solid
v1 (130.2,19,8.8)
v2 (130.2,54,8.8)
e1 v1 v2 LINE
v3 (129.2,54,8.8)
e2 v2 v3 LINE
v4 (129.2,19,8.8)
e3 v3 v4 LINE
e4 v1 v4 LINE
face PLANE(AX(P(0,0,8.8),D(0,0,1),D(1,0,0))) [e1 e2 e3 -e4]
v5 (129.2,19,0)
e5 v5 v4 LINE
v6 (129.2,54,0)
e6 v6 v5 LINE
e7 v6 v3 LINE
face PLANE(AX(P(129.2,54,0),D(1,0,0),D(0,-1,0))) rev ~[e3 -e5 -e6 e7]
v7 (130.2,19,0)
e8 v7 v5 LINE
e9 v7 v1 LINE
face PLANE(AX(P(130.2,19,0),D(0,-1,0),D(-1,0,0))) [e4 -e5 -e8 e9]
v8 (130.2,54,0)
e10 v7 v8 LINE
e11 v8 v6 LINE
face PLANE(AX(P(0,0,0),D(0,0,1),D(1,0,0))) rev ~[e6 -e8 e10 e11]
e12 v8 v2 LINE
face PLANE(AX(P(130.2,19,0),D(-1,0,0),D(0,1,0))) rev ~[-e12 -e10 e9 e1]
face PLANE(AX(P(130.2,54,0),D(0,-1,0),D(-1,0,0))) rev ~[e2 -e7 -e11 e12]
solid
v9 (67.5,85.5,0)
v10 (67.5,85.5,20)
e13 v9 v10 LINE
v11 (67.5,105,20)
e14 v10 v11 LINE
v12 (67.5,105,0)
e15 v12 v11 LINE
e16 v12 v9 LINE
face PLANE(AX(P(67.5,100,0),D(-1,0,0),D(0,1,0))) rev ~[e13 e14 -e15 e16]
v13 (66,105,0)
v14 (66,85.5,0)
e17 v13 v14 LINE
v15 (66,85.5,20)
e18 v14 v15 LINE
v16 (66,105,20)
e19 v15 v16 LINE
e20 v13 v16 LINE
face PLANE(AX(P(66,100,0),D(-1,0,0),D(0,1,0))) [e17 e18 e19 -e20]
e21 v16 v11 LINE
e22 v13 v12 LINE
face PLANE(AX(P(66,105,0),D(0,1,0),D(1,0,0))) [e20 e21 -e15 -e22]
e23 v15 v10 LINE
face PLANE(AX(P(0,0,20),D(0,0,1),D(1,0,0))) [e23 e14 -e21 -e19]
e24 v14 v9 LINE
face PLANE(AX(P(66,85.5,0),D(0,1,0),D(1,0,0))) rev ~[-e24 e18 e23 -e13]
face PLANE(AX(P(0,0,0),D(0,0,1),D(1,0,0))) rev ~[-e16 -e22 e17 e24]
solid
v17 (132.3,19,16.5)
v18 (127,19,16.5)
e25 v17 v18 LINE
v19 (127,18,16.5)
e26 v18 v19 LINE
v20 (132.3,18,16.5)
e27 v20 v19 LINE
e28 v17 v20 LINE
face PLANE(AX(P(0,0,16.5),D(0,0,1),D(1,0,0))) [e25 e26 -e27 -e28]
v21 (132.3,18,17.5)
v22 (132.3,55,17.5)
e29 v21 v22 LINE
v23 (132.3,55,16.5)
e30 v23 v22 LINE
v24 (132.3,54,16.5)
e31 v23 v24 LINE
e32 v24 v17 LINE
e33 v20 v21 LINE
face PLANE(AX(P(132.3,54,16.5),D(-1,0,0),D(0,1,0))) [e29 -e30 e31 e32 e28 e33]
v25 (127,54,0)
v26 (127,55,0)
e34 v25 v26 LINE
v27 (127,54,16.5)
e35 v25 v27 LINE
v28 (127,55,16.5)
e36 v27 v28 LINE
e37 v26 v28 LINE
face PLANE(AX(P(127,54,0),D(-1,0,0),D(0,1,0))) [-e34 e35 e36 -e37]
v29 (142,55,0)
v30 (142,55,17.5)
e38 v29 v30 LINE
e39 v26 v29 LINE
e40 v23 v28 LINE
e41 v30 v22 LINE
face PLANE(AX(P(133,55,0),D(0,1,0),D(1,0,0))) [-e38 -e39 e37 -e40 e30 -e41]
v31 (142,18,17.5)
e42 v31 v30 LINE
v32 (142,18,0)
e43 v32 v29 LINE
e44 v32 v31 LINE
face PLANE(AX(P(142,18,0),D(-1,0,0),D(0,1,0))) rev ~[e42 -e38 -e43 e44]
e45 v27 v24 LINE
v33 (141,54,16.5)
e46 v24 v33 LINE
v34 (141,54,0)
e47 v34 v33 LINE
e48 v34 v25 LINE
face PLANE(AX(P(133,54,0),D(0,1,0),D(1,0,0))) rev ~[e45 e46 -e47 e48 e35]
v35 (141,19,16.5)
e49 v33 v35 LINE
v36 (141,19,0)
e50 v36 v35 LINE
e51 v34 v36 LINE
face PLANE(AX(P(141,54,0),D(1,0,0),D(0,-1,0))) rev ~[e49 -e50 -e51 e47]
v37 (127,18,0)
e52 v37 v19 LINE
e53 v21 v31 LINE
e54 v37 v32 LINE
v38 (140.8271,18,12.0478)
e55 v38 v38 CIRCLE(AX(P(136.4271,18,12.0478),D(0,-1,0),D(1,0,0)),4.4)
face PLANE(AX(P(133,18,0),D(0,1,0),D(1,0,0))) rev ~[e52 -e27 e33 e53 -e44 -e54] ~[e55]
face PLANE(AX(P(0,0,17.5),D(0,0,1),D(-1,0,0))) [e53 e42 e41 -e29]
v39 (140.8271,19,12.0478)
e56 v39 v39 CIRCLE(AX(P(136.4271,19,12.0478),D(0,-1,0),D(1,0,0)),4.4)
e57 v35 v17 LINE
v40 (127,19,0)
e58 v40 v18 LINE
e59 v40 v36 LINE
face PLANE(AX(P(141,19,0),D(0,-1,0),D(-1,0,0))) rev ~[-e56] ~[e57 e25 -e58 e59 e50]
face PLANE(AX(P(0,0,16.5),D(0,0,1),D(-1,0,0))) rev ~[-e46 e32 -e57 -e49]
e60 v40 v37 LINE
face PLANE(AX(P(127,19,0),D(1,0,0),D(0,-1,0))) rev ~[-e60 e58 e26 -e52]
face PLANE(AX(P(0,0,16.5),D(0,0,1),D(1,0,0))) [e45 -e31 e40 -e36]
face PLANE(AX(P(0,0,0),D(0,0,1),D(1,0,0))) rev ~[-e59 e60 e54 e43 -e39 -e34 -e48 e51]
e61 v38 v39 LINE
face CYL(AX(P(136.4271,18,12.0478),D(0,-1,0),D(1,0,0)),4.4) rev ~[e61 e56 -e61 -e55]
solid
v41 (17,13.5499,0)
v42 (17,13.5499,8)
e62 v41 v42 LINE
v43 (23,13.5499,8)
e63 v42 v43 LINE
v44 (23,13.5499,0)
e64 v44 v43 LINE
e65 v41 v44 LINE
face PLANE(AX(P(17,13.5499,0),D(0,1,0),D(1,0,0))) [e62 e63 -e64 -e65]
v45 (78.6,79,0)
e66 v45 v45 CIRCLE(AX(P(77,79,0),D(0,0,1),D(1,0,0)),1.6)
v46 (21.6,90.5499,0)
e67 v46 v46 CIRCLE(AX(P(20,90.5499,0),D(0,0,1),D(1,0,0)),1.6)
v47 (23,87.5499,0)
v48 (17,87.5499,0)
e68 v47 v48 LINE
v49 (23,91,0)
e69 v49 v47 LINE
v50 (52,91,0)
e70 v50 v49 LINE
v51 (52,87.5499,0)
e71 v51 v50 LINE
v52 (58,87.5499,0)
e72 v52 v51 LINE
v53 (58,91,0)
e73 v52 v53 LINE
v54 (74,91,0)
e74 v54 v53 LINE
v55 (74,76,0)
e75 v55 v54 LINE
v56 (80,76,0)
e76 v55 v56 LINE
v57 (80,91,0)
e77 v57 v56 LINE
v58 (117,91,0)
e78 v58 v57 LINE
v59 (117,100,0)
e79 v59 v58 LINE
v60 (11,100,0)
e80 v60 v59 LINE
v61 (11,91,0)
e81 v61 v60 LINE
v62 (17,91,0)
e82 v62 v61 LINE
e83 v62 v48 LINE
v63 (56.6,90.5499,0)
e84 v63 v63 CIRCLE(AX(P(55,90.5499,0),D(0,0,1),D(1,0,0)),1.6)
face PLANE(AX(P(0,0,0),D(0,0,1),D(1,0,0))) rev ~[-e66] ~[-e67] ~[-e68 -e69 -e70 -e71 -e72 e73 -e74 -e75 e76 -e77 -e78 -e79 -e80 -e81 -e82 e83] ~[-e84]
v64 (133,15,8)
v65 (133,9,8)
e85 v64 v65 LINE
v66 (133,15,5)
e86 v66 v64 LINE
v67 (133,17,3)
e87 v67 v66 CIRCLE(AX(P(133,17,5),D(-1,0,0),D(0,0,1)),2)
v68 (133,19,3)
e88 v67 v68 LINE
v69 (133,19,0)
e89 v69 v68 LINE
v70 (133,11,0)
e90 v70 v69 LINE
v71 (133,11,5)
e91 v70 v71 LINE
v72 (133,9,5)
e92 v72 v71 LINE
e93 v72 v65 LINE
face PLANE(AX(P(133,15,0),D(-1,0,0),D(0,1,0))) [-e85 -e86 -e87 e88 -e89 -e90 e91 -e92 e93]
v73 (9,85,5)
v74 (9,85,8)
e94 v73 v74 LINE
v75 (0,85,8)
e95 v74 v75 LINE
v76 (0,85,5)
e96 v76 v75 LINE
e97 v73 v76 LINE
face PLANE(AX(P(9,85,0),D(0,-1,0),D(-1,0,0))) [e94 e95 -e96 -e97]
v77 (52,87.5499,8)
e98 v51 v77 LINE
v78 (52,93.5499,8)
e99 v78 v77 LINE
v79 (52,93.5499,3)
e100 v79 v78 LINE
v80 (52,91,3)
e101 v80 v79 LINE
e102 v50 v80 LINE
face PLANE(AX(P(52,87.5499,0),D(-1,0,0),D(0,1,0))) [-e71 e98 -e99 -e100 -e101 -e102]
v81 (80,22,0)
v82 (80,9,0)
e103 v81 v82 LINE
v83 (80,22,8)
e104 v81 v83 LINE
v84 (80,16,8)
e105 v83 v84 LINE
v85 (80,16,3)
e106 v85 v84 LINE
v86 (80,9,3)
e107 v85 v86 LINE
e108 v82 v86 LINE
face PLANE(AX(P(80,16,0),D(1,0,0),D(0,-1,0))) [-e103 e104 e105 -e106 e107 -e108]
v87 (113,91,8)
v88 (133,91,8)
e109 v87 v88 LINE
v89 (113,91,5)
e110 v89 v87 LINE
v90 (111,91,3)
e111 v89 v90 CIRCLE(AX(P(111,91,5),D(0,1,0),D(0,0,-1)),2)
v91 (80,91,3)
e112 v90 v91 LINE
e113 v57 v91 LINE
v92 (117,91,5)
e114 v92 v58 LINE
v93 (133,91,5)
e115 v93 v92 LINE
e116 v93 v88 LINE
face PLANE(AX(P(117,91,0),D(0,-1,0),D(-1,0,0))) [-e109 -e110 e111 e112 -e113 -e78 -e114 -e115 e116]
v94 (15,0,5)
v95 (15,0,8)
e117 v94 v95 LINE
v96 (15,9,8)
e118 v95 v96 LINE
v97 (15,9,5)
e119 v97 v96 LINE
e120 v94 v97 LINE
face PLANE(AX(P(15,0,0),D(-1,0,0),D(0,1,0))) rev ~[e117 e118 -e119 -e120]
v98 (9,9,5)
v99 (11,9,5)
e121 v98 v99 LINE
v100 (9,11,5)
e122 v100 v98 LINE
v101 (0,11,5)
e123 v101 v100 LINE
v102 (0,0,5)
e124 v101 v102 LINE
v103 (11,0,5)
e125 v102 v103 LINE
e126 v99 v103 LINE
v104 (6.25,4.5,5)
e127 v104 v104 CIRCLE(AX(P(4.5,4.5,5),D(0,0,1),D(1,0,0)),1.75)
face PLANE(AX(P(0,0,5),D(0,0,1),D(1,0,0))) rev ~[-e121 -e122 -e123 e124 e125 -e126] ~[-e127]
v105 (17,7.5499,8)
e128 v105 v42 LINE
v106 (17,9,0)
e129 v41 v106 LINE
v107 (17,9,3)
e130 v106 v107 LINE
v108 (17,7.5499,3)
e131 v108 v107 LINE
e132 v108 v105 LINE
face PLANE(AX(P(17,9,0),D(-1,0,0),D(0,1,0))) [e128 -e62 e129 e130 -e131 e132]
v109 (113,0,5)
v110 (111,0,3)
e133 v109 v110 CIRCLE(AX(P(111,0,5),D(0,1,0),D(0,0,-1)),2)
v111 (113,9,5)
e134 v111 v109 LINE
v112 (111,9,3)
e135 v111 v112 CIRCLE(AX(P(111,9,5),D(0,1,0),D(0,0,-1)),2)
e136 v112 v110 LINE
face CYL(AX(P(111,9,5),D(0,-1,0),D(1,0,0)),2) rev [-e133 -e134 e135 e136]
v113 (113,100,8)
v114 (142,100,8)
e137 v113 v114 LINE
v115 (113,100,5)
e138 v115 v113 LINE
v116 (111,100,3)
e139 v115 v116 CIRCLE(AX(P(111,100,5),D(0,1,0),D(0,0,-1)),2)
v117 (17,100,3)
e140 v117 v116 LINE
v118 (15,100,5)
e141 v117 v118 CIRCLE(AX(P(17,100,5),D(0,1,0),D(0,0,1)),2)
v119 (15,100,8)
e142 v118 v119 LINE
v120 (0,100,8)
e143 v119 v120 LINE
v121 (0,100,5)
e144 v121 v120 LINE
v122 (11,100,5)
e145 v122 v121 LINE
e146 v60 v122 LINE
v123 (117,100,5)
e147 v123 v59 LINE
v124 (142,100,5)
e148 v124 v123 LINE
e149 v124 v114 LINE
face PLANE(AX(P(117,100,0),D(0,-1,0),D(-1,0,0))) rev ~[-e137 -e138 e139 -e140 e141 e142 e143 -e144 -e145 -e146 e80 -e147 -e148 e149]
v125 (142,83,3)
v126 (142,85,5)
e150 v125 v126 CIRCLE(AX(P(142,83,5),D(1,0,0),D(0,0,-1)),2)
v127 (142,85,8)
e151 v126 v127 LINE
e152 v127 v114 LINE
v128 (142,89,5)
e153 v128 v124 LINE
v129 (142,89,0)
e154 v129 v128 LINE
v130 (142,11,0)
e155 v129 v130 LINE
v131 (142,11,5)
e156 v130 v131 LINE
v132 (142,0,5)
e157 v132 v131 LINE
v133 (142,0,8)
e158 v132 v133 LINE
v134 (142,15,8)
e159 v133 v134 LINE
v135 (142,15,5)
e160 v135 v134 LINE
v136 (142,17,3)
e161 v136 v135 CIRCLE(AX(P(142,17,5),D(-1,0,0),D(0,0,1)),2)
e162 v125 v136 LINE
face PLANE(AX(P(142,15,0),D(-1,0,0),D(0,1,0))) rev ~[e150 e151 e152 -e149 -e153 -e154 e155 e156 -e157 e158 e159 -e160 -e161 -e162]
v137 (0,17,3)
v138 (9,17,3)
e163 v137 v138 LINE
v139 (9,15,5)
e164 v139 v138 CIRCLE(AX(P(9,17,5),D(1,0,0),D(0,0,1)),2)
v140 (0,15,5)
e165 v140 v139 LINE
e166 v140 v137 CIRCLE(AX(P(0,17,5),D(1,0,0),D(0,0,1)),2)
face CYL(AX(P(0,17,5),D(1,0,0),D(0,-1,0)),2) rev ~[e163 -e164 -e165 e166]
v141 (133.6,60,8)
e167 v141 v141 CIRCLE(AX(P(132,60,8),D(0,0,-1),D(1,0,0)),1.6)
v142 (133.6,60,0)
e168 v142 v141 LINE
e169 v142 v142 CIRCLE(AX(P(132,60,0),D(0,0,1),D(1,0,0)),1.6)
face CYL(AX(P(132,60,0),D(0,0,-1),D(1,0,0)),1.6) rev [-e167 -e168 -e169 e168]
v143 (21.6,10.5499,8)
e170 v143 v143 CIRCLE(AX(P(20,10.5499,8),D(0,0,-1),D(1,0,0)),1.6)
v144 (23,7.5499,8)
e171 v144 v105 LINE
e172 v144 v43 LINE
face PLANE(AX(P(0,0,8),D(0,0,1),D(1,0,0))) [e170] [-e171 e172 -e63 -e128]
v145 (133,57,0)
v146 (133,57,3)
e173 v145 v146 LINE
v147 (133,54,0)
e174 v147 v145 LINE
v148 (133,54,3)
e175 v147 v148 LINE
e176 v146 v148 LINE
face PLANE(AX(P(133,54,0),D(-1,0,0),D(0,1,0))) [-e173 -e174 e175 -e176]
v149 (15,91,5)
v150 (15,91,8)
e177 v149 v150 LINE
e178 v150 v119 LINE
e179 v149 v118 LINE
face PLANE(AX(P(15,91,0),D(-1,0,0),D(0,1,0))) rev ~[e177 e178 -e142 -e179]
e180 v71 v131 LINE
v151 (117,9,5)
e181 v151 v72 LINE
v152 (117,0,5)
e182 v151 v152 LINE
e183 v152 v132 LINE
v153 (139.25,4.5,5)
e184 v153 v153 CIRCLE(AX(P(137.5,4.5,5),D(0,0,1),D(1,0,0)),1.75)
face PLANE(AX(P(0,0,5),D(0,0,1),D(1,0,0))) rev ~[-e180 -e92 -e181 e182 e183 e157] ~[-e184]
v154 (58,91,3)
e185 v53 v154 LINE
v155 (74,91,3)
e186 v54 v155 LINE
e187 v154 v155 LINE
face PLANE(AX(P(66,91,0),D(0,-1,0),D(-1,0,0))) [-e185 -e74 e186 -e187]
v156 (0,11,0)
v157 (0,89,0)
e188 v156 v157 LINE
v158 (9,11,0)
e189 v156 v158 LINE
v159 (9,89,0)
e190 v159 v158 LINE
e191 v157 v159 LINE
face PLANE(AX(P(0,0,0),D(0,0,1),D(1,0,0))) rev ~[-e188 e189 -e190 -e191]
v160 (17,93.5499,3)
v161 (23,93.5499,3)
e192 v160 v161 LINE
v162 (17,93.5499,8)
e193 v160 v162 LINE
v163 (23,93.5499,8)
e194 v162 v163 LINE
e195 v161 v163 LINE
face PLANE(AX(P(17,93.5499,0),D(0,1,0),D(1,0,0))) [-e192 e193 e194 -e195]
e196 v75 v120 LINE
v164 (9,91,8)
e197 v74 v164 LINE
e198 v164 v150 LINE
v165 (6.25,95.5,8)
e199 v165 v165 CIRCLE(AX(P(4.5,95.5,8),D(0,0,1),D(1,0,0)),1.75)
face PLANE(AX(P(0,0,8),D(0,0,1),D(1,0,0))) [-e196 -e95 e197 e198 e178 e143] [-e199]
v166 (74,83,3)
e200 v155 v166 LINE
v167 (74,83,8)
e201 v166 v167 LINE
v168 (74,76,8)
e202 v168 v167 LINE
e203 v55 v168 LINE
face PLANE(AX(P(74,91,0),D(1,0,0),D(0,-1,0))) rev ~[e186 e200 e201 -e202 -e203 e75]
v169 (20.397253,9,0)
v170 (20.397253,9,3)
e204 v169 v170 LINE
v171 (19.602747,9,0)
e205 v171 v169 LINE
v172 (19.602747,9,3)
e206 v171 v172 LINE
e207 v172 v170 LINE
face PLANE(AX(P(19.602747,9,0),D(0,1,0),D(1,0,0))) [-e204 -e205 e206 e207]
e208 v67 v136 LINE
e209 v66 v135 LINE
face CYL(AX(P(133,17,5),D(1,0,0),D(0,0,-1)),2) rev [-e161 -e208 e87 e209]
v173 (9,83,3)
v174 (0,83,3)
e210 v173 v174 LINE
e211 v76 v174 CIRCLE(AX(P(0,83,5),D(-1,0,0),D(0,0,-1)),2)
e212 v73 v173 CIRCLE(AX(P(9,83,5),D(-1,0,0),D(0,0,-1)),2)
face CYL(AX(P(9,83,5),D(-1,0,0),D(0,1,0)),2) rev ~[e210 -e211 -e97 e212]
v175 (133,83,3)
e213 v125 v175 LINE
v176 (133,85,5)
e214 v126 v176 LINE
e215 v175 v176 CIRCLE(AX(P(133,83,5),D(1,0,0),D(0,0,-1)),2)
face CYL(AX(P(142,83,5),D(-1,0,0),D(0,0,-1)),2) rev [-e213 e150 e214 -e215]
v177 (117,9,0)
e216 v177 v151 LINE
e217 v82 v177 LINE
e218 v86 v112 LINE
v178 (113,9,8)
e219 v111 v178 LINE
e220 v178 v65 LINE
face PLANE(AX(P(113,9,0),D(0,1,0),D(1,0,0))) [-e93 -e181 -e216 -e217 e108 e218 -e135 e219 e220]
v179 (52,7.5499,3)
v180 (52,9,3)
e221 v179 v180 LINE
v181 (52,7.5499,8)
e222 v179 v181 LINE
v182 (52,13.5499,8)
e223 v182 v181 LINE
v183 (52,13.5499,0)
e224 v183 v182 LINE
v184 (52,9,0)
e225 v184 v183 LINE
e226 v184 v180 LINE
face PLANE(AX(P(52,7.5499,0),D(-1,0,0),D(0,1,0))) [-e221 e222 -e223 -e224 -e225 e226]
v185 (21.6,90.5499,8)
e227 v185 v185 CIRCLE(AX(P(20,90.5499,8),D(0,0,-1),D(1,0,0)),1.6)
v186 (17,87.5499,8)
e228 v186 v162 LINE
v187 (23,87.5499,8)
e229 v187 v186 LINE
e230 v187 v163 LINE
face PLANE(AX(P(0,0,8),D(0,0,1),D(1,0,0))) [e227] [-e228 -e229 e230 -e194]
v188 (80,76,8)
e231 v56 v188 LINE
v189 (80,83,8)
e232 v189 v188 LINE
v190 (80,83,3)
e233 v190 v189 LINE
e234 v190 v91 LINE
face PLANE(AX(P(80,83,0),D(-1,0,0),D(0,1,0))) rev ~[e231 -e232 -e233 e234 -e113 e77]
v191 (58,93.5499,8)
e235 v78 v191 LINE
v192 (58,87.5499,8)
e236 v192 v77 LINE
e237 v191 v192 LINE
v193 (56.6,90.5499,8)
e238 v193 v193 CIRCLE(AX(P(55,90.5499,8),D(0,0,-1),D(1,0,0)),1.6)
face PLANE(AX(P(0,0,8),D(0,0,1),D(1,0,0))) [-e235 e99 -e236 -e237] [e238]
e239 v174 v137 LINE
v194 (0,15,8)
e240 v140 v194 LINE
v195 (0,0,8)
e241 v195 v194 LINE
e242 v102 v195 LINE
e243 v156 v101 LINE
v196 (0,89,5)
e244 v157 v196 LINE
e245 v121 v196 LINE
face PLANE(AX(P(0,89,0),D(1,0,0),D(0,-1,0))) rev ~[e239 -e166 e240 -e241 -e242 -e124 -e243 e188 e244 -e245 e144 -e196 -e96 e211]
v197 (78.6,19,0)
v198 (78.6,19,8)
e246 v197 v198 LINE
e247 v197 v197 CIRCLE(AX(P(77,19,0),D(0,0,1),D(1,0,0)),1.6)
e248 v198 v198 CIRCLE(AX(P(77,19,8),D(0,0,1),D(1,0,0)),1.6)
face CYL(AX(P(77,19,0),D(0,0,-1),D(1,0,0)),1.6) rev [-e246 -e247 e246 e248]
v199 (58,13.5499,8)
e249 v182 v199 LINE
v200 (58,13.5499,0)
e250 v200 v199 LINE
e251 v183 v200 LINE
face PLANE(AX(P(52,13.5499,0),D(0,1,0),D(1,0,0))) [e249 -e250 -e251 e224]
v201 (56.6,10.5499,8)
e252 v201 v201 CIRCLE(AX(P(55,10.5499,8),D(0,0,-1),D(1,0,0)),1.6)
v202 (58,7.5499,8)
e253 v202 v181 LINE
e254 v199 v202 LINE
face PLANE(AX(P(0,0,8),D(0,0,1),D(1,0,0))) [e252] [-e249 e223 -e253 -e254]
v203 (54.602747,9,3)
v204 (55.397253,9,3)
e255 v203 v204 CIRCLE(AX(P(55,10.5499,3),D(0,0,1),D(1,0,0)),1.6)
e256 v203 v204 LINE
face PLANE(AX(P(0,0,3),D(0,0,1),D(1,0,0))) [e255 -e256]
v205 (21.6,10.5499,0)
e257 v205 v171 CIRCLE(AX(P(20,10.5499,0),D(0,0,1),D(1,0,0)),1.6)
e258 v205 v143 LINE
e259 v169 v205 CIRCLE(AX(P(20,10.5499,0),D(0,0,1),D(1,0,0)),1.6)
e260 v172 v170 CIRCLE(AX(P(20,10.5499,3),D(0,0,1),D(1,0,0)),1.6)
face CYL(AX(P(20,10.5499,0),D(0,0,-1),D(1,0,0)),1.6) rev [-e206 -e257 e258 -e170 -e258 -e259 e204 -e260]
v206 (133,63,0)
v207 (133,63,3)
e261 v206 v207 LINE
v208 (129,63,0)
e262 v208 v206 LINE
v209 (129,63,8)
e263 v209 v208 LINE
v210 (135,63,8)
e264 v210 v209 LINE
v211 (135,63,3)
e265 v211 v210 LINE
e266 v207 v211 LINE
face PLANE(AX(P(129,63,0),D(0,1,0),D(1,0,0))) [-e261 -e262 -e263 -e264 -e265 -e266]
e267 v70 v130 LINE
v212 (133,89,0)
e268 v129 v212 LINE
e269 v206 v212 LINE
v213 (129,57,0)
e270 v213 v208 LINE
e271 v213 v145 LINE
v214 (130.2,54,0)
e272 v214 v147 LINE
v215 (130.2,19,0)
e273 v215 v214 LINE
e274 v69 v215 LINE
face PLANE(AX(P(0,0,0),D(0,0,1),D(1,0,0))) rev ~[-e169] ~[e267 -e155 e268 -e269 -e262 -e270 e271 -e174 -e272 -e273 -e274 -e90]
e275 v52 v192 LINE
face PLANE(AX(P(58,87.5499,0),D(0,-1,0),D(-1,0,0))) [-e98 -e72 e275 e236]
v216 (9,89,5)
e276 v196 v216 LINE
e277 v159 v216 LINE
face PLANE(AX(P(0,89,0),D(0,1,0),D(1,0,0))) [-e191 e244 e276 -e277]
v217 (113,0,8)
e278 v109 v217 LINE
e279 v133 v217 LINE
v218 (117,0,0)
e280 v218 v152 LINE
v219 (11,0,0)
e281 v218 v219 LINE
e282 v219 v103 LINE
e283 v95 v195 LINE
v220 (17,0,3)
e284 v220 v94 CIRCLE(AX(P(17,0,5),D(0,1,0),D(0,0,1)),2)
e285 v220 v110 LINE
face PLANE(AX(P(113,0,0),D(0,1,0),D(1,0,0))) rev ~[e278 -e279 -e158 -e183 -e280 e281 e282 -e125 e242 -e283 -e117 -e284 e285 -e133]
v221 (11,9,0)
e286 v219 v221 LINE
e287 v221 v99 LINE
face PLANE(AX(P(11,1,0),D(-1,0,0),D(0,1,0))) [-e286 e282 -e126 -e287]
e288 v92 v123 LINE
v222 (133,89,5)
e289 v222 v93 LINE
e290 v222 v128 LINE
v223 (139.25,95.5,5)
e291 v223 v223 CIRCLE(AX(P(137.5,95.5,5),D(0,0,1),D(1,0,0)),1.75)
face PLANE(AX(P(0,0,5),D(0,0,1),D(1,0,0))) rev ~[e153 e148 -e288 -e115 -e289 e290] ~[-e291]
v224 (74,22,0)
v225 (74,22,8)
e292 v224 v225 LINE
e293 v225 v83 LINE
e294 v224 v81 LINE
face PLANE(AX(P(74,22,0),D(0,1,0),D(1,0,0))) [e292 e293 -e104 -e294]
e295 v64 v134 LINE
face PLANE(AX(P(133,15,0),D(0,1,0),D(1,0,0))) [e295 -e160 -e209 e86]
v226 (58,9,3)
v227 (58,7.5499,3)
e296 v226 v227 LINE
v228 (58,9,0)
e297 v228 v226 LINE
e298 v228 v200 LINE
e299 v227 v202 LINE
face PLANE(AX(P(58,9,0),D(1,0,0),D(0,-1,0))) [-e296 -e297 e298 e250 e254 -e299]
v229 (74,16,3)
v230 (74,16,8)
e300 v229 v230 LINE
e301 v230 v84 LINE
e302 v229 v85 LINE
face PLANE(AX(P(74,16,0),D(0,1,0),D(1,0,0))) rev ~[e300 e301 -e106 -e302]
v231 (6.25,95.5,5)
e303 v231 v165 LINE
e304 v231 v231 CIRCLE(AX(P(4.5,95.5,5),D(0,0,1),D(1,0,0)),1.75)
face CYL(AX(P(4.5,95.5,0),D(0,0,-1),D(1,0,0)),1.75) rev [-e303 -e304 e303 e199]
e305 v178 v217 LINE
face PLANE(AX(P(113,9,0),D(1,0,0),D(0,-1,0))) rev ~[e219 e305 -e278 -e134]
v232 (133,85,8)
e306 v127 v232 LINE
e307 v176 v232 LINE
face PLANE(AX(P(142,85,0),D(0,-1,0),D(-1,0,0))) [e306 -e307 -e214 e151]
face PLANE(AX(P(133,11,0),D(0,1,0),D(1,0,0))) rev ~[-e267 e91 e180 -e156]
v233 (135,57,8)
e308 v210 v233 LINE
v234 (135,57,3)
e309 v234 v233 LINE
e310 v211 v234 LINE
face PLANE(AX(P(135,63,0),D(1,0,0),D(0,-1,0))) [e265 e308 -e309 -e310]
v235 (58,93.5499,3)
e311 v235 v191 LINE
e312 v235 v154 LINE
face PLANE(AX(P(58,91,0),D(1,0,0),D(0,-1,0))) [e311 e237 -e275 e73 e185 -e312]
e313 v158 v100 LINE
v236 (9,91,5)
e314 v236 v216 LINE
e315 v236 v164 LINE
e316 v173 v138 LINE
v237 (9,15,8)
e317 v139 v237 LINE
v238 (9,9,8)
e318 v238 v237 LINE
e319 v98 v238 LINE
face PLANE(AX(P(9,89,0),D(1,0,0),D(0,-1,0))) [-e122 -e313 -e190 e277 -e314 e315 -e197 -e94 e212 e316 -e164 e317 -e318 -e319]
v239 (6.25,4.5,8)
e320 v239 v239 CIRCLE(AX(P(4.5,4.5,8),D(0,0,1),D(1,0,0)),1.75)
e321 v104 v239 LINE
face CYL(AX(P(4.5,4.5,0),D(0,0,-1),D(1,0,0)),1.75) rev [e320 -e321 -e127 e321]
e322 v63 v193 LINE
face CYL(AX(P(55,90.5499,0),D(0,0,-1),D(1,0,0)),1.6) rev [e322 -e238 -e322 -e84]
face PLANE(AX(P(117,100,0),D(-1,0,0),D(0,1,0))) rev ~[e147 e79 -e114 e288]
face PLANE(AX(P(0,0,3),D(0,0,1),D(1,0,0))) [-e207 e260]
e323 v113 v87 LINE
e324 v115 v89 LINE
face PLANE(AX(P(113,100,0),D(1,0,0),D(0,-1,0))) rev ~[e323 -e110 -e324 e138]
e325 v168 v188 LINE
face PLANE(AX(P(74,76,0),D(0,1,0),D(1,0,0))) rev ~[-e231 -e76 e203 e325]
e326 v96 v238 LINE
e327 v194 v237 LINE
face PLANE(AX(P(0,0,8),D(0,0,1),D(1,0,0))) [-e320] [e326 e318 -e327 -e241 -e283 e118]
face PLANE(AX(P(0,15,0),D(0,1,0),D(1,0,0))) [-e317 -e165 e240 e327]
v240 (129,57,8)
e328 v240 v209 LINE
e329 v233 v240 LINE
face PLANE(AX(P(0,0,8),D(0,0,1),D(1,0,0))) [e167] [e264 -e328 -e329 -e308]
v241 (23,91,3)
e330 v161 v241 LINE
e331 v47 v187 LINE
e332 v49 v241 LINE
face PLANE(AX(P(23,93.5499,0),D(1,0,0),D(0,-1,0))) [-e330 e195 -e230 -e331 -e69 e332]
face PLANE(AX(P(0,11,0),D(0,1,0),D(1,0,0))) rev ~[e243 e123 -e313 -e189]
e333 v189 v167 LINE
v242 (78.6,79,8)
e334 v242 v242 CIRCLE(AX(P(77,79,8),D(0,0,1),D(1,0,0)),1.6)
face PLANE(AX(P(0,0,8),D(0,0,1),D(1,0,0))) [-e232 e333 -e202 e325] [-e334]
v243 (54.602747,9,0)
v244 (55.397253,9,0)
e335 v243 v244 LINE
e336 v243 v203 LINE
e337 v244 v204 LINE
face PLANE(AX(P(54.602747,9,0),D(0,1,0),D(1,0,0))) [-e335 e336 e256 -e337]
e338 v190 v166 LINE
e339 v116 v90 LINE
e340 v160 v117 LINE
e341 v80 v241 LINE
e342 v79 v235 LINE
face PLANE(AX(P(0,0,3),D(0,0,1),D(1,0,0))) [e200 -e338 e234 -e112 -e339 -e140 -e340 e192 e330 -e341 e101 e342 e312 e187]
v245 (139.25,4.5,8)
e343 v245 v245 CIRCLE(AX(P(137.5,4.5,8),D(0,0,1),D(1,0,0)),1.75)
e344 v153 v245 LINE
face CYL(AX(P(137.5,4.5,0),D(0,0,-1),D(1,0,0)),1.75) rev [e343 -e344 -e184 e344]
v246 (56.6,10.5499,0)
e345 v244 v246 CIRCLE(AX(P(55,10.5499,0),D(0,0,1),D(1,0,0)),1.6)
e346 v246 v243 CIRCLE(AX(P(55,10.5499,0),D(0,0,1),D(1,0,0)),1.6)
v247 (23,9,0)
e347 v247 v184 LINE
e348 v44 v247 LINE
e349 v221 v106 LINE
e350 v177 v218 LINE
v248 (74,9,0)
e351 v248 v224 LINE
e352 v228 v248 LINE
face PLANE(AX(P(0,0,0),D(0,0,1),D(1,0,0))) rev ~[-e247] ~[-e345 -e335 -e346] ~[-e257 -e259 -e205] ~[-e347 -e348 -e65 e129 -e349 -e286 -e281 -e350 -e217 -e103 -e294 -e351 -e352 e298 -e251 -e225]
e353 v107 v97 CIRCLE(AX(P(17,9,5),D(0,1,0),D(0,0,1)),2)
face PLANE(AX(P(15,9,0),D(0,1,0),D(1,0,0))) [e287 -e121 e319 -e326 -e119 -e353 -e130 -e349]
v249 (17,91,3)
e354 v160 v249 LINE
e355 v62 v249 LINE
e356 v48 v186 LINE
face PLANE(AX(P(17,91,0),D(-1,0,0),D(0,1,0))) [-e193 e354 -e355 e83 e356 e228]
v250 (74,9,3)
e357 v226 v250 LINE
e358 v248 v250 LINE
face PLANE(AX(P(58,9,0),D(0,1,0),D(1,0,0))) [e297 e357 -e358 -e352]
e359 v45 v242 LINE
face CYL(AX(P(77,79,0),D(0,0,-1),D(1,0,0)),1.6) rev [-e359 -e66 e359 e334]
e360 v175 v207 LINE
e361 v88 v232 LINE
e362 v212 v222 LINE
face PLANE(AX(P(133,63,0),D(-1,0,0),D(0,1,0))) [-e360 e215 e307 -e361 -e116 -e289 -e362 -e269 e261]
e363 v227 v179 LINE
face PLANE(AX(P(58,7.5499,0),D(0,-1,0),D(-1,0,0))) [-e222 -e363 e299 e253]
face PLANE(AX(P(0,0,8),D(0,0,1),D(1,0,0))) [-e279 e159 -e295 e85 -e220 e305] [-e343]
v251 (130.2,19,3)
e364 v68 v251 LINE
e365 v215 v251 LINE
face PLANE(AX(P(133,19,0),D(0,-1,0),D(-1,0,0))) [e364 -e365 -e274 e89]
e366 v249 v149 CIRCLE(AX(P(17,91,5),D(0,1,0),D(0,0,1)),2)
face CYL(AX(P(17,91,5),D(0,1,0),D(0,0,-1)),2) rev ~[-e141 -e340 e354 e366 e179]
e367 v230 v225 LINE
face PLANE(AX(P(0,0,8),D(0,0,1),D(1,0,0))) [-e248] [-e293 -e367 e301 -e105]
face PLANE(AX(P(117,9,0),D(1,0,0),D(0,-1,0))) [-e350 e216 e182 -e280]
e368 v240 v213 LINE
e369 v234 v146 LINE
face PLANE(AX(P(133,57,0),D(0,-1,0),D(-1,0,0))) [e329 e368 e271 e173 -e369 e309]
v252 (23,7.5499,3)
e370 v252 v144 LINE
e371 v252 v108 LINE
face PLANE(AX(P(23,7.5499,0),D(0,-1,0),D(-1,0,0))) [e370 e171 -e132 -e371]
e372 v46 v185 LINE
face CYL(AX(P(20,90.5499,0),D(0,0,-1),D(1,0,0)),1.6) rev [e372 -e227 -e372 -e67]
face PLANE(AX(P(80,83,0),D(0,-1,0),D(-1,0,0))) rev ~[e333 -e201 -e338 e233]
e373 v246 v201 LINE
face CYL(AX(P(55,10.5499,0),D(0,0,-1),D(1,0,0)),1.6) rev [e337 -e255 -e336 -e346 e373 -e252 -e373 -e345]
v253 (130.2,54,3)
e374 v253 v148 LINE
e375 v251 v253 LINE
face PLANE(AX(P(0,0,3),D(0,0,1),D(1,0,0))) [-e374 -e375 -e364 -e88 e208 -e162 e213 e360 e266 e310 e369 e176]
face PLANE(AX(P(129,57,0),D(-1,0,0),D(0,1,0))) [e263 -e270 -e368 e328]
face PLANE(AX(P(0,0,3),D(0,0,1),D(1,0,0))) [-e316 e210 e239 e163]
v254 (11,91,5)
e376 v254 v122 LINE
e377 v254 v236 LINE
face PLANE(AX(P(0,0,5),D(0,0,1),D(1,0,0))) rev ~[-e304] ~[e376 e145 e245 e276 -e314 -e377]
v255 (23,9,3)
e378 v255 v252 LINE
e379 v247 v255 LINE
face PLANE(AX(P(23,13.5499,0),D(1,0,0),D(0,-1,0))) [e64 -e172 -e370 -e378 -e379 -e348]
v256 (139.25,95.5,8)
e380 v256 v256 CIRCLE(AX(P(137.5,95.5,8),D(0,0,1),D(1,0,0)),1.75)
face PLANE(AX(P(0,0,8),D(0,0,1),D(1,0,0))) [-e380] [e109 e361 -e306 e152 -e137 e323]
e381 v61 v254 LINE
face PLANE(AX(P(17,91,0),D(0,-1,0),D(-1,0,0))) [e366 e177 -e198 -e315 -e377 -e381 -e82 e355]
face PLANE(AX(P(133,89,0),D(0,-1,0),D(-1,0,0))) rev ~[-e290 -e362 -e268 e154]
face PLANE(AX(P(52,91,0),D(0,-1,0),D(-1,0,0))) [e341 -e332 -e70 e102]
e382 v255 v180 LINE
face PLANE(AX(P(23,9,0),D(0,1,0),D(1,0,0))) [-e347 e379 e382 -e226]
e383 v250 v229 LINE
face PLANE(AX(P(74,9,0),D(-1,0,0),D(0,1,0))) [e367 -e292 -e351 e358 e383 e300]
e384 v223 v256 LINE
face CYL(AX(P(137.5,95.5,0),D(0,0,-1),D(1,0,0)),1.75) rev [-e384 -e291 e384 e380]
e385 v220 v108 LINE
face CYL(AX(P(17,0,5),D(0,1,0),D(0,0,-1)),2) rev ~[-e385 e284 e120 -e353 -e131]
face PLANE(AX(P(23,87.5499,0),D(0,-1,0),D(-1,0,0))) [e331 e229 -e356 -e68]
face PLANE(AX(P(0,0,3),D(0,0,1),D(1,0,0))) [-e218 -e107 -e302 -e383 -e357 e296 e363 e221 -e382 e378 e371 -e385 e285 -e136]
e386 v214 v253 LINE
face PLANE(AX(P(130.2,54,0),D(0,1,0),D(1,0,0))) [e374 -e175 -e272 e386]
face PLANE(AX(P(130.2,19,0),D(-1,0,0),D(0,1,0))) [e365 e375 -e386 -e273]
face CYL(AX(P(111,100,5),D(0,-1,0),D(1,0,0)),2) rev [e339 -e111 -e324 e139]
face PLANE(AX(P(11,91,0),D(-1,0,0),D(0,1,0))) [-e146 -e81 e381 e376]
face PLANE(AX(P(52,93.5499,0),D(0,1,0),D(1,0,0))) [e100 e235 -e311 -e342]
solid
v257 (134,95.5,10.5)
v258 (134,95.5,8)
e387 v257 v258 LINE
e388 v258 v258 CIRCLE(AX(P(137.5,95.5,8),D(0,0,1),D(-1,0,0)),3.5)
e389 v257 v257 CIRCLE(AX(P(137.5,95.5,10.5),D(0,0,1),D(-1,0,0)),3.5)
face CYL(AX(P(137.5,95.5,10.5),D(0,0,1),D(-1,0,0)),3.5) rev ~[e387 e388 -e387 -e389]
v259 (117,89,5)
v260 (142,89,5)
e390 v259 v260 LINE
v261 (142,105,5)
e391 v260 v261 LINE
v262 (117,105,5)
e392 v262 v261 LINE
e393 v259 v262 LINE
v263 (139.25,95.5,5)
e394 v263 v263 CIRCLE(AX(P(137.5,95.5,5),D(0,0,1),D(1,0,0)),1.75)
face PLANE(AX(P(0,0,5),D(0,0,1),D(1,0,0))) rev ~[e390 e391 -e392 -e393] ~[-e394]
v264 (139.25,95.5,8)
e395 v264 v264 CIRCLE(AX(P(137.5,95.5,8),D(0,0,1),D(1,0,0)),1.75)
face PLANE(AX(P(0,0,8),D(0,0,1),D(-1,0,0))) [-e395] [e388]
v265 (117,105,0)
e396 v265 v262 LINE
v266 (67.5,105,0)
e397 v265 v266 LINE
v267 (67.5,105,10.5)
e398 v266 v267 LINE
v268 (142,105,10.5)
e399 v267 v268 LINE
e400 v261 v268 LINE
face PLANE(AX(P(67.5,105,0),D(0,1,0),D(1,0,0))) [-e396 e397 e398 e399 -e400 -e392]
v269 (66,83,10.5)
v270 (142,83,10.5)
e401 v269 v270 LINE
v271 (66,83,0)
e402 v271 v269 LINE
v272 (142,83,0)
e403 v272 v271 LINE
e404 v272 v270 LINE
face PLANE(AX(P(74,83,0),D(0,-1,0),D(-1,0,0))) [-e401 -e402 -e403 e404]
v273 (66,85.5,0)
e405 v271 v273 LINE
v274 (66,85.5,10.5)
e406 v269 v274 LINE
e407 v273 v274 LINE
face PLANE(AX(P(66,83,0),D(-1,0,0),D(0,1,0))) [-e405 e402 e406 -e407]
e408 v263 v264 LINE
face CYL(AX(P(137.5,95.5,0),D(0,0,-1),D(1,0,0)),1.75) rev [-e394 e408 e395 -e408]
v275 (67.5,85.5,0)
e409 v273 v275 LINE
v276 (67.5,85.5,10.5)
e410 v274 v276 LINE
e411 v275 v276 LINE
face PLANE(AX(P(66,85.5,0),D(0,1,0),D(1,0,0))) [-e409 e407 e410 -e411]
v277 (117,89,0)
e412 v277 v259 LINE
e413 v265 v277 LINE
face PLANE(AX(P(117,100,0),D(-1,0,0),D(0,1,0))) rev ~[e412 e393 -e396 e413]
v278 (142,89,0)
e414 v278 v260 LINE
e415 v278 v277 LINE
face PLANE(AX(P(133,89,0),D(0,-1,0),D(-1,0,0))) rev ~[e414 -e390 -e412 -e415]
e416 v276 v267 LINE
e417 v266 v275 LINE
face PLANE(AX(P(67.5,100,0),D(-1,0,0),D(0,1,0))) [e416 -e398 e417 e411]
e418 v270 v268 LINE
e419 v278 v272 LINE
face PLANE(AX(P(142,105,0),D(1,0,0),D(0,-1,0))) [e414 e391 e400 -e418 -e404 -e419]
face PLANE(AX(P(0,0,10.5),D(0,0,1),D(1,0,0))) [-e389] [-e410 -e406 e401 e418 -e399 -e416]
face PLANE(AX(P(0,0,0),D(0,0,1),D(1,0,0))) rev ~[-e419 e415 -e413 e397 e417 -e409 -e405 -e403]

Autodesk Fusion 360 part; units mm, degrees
sketch "Skizze1" plane through (0, 0, 0) normal (0, 0, 1) x (1, 0, 0)
  line L0 (0, 0) -> (142, 0)
  line L1 (142, 0) -> (142, 100)
  line L2 (142, 100) -> (0, 100)
  line L3 (0, 100) -> (0, 0)
  line L4 (133, 9) -> (133, 91)
  line L5 (133, 91) -> (9, 91)
  line L6 (9, 91) -> (9, 9)
  line L7 (9, 9) -> (133, 9)
  circle A0 centre (4.5, 95.5) radius 1.75
  circle A1 centre (137.5, 95.5) radius 1.75
  circle A2 centre (137.5, 4.5) radius 1.75
  circle A3 centre (4.5, 4.5) radius 1.75
  line L8 (11, 91) -> (11, 100)
  line L9 (11, 0) -> (11, 1)
  line L10 (11, 1) -> (11, 9)
  line L11 (117, 9) -> (117, 0)
  line L12 (15, 91) -> (15, 100)
  line L13 (113, 100) -> (113, 91)
  line L14 (113, 9) -> (113, 0)
  line L15 (15, 0) -> (15, 9)
  line L16 (117, 91) -> (117, 100)
  line L17 (0, 11) -> (9, 11)
  line L18 (0, 15) -> (9, 15)
  line L19 (0, 89) -> (9, 89)
  line L20 (9, 85) -> (0, 85)
  line L21 (133, 89) -> (142, 89)
  line L22 (142, 85) -> (133, 85)
  line L23 (133, 11) -> (142, 11)
  line L24 (133, 15) -> (142, 15)
  line L25 (9, 41) -> (9, 50)
  circle A4 centre (132, 60) radius 1.6
  circle A5 centre (77, 79) radius 1.6
  circle A6 centre (77, 19) radius 1.6
  line L26 (129, 63) -> (133, 63)
  line L27 (133, 63) -> (133, 57)
  line L28 (133, 57) -> (129, 57)
  line L29 (129, 57) -> (129, 63)
  line L30 (74, 22) -> (80, 22)
  line L31 (80, 22) -> (80, 9)
  line L32 (80, 9) -> (74, 9)
  line L33 (74, 9) -> (74, 22)
  line L34 (80, 91) -> (74, 91)
  line L35 (74, 91) -> (74, 76)
  line L36 (74, 76) -> (80, 76)
  line L37 (80, 76) -> (80, 91)
  line L38 (135, 63) -> (135, 57)
  line L39 (74, 82) -> (80, 82)
  line L40 (74, 16) -> (80, 16)
  circle A7 centre (55, 90.5499) radius 1.6
  line L41 (55, 90.5499) -> (55, 44) construction
  circle A8 centre (55, 10.5499) radius 1.6
  line L42 (55, 10.5499) -> (28.4536, 10.5499) construction
  circle A9 centre (20, 10.5499) radius 1.6
  line L43 (20, 10.5499) -> (20, 84) construction
  circle A10 centre (20, 90.5499) radius 1.6
  line L44 (58, 87.5499) -> (52, 87.5499)
  line L45 (52, 87.5499) -> (52, 93.5499)
  line L46 (52, 93.5499) -> (58, 93.5499)
  line L47 (58, 93.5499) -> (58, 87.5499)
  line L48 (58, 87.5499) -> (52, 93.5499) construction
  line L49 (52, 87.5499) -> (58, 93.5499) construction
  line L50 (23, 87.5499) -> (17, 87.5499)
  line L51 (17, 87.5499) -> (17, 93.5499)
  line L52 (17, 93.5499) -> (23, 93.5499)
  line L53 (23, 93.5499) -> (23, 87.5499)
  line L54 (23, 87.5499) -> (17, 93.5499) construction
  line L55 (17, 87.5499) -> (23, 93.5499) construction
  line L56 (58, 7.5499) -> (52, 7.5499)
  line L57 (52, 7.5499) -> (52, 13.5499)
  line L58 (52, 13.5499) -> (58, 13.5499)
  line L59 (58, 13.5499) -> (58, 7.5499)
  line L60 (58, 7.5499) -> (52, 13.5499) construction
  line L61 (52, 7.5499) -> (58, 13.5499) construction
  line L62 (23, 7.5499) -> (17, 7.5499)
  line L63 (17, 7.5499) -> (17, 13.5499)
  line L64 (17, 13.5499) -> (23, 13.5499)
  line L65 (23, 13.5499) -> (23, 7.5499)
  line L66 (23, 7.5499) -> (17, 13.5499) construction
  line L67 (17, 7.5499) -> (23, 13.5499) construction
  line L68 (77, 79) -> (155, 79) construction
  line L69 (142, 19) -> (130.2, 19)
  line L70 (130.2, 19) -> (130.2, 54)
  line L71 (130.2, 54) -> (142, 54)
  line L72 (142, 54) -> (142, 19)
  line L73 (142, 54) -> (127, 54)
  line L74 (127, 54) -> (127, 55)
  line L75 (127, 55) -> (142, 55)
  line L76 (142, 55) -> (142, 54)
  line L77 (142, 19) -> (127, 19)
  line L78 (127, 19) -> (127, 18)
  line L79 (127, 18) -> (142, 18)
  line L80 (142, 18) -> (142, 19)
  line L81 (129.2, 54) -> (129.2, 19)
  line L82 (133, 57) -> (135, 57)
  line L83 (133, 63) -> (135, 63)
  line L84 (142, 54) -> (141, 54)
  line L85 (141, 54) -> (141, 19)
  line L86 (141, 19) -> (142, 19)
  line L87 (142, 19) -> (142, 54)
  line L88 (142, 83) -> (66, 83)
  line L89 (66, 83) -> (66, 105)
  line L90 (66, 105) -> (142, 105)
  line L91 (142, 105) -> (142, 83)
  line L92 (67.5, 83) -> (67.5, 105)
  line L93 (113, 100) -> (113, 105)
  line L94 (117, 100) -> (117, 105)
  line L95 (133, 89) -> (117, 89)
  line L96 (117, 91) -> (117, 89)
  line L97 (66, 85.5) -> (67.5, 85.5)
  point P0 (55, 90.5499)
  point P1 (20, 90.5499)
  point P2 (55, 10.5499)
  point P3 (20, 10.5499)
  dimension "d1" = 142
  dimension "d2" = 100
  dimension "d3" = -9
  dimension "d4" = 4.5
  dimension "d5" = 4.5
  dimension "d6" = 3.5
  dimension "d7" = 3.5
  dimension "d8" = 3.5
  dimension "d9" = 3.5
  dimension "d10" = 4.5
  dimension "d11" = 4.5
  dimension "d12" = 4.5
  dimension "d13" = 4.5
  dimension "d14" = 4.5
  dimension "d15" = 4.5
  dimension "d17" = 11
  dimension "d18" = 11
  dimension "d19" = 25
  dimension "d20" = 4
  dimension "d21" = 4
  dimension "d23" = 4
  dimension "d24" = 25
  dimension "d25" = 4
  dimension "d43" = 11
  dimension "d44" = 4
  dimension "d45" = 11
  dimension "d46" = 4
  dimension "d47" = 11
  dimension "d48" = 4
  dimension "d49" = 11
  dimension "d50" = 4
  dimension "d63" = 3.2
  dimension "d64" = 3.2
  dimension "d66" = 55
  dimension "d67" = 3.2
  dimension "d69" = 60
  dimension "d70" = 55
  dimension "d85" = 3
  dimension "d86" = 3
  dimension "d87" = 3
  dimension "d88" = 3
  dimension "d89" = 3
  dimension "d90" = 3
  dimension "d91" = 3
  dimension "d92" = 3
  dimension "d93" = 3
  dimension "d94" = 3
  dimension "d95" = 3
  dimension "d96" = 3
  dimension "d100" = 3.2
  dimension "d102" = 3.2
  dimension "d103" = 3.2
  dimension "d104" = 3.2
  dimension "d105" = 80
  dimension "d106" = 80
  dimension "d107" = 35
  dimension "d108" = 20
  dimension "d109" = 6
  dimension "d110" = 6
  dimension "d111" = 6
  dimension "d112" = 6
  dimension "d113" = 6
  dimension "d114" = 6
  dimension "d115" = 6
  dimension "d116" = 6
  dimension "d119" = 10
  dimension "d120" = 41
  dimension "d128" = 10
  dimension "d131" = 19
  dimension "d132" = 35
  dimension "d133" = 11.8
  dimension "d134" = 1
  dimension "d135" = 15
  dimension "d136" = 1
  dimension "d137" = 15
  dimension "d138" = 1
  dimension "d143" = 1
  dimension "d152" = 22
  dimension "d153" = 76
  dimension "d154" = 5
  dimension "d155" = 1.5
  dimension "d166" = 2.5
extrude "Extrusion17" add sketch "Skizze1" along normal blind 20 contours L2 L89 L90 L92 | L2 L5 L89 L92 | L5 L89 L92 L97 makes body 1
extrude "Extrusion16" add sketch "Skizze1" along normal blind 10.5 separate body contours L2 L90 L92 L93 | L2 L5 L13 L34 L92 | L2 L90 L93 L94 | L2 L5 L13 L16 | L5 L35 L88 L92 | L88 L89 L92 L97 | L2 L90 L91 L94 | L1 L2 L4 L5 L16 L21 L91 | L4 L5 L37 L88 L95 L96 | L5 L34 L35 L37 L88 | L1 L4 L22 L88 L91 | L4 L5 L95 L96 | L1 L4 L21 L22 L91 makes body 2
extrude "Extrusion13" add sketch "Skizze1" along normal blind 16.5 separate body contours L1 L4 L69 L77 L79 L80 L86 | L1 L69 L71 L72 L73 L77 L84 L85 L86 L87 | L4 L69 L77 L78 L79 | L1 L4 L71 L73 L75 L76 L84 | L4 L71 L73 L74 L75 makes body 3
extrude "Extrusion12" add sketch "Skizze1" along normal blind 8.8 separate body contours L70 L73 L77 L81 makes body 4
extrude "Extrusion11" add sketch "Skizze1" along normal blind 8 separate body contours L7 A9 L63 L64 L65 | L7 A9 L62 L63 L65 | L7 A8 L56 L57 L59 | L7 A8 L57 L58 L59 | L5 A10 L51 L52 L53 | L5 A10 L50 L51 L53 | L5 A7 L44 L45 L47 | L5 A7 L45 L46 L47 makes body 5 at (56.598, 10.4701, 5.3333) makes body 6 at (18.8828, 89.4045, 5.3333) makes body 7 at (21.592, 10.7092, 5.3333) makes body 8 at (56.1172, 91.6953, 2.6667)
extrude "Extrusion10" add sketch "Skizze1" along normal blind 8 separate body contours L30 L31 L33 L40 | L35 L37 L39 L88 | L4 A4 L26 L27 L28 L29 | L4 A4 L27 L38 L82 L83 | L35 L36 L37 L39 makes body 9 at (77.0399, 20.5995, 5.3333) makes body 10 at (77.0399, 80.5995, 5.3333) makes body 11 at (132.2778, 58.4243, 5.3333)
extrude "Extrusion2" add sketch "Skizze1" along normal blind 8 separate body contours L0 L3 L6 L7 L9 L10 L17 | L0 L7 L9 L10 L15 | L3 L6 L17 L18 | L0 L7 L11 L14 | L3 L6 L19 L20 | L0 L1 L4 L7 L11 L23 | L2 L3 L5 L6 L8 L19 | L1 L4 L23 L24 | L2 L5 L8 L12 | L2 L5 L13 L16 | L1 L2 L4 L5 L16 L21 L91 | L1 L4 L21 L22 L91 makes body 12 at (13, 6, 0) makes body 13 at (119.6667, 6, 0) makes body 14 at (119.6667, 94, 0) makes body 15 at (6, 87, 0)
extrude "Extrusion3" add sketch "Skizze1" along normal blind 3 contours L0 L7 L14 L15 L32 L56 L57 L59 L62 L63 L65 | L3 L6 L18 L20 L25 | L7 L31 L32 L33 L40 | L7 A9 | L1 L4 L24 L79 | L2 L5 L12 L45 L46 L47 L51 L52 L53 L89 | L1 L4 L69 L77 L79 L80 L86 | L7 A8 | L2 L5 L89 L92 | L1 L69 L71 L72 L73 L77 L84 L85 L86 L87 | L2 L5 L13 L34 L92 | L1 L4 L71 L73 L75 L76 L84 | L4 L69 L71 L73 L77 L85 | L4 L69 L70 L71 L73 L77 | L1 L4 L38 L75 L82 L83 L88 | L5 L34 L35 L37 L88 | L1 L4 L22 L88 L91 | L35 L37 L39 L88 | L4 A4 L26 L27 L28 L29 | L4 A4 L27 L38 L82 L83 picked at (20.0668, 8.9875) picked at (54.9332, 8.9875) bodies 11 5 6 7 8 9 10 13 14 15 12
extrude "Extrusion4" cut sketch "Skizze1" along normal blind 5 contours L0 L3 L6 L7 L9 L10 L17 | L0 L1 L4 L7 L11 L23 | L2 L3 L5 L6 L8 L19 bodies 11
extrude "Extrusion18" cut sketch "Skizze1" along normal up to surface (5 mm away) contours L2 L90 L91 L94 | L1 L2 L4 L5 L16 L21 L91 | L4 L5 L95 L96 bodies 2 11
fillet "Abrundung2" radius 2 8 edges at (113, 4.5, 3) (113, 95.5, 3) (15, 95.5, 3) (4.5, 85, 3) (15, 4.5, 3) (4.5, 15, 3) (137.5, 15, 3) (137.5, 85, 3) on bodies 11
sketch "Skizze3" plane through (0, 18, 0) normal (0, -1, 0) x (1, 0, 0)
  line L0 (127, 0) -> (142, 0)
  line L1 (142, 0) -> (142, 16.5)
  line L2 (142, 16.5) -> (127, 16.5)
  line L3 (127, 16.5) -> (127, 0)
  circle A0 centre (136.4271, 12.0478) radius 4.4
  dimension "d146" = 8.8
extrude "Extrusion14" cut sketch "Skizze3" against normal up to surface (1 mm away) contours A0 bodies 3
sketch "Skizze4" plane through (0, 0, 16.5) normal (0, 0, 1) x (-1, 0, 0)
  line L0 (-141, -54) -> (-141, -19)
  line L1 (-141, -19) -> (-127, -19)
  line L2 (-127, -19) -> (-127, -18)
  line L3 (-127, -18) -> (-142, -18)
  line L4 (-142, -18) -> (-142, -55)
  line L5 (-142, -55) -> (-127, -55)
  line L6 (-127, -55) -> (-127, -54)
  line L7 (-127, -54) -> (-141, -54)
  line L8 (-132.3, -55) -> (-142, -55)
  line L9 (-142, -55) -> (-142, -18)
  line L10 (-142, -18) -> (-132.3, -18)
  line L11 (-132.3, -18) -> (-132.3, -55)
  dimension "d149" = 9.7
extrude "Extrusion15" add sketch "Skizze4" along normal blind 1 contours L0 L1 L3 L4 L5 L7 L8 L9 L10 L11 | L0 L1 L7 L11 bodies 3
sketch "Skizze5" plane through (0, 0, 10.5) normal (0, 0, 1) x (-1, 0, 0)
  circle A0 centre (-137.5, -95.5) radius 1.75
  line L0 (-66, -83) -> (-142, -83)
  line L1 (-142, -83) -> (-142, -105)
  line L2 (-142, -105) -> (-67.5, -105)
  line L3 (-67.5, -105) -> (-67.5, -85.5)
  circle A1 centre (-137.5, -95.5) radius 3.5
  line L4 (-66, -85.5) -> (-66, -83)
  line L5 (-67.5, -85.5) -> (-66, -85.5)
  dimension "d163" = 7
extrude "Extrusion19" cut sketch "Skizze5" against normal up to surface (2.5 mm away) contours A1 bodies 2
equation "d63 = bohrung_abstanzbolzen"
equation "d64 = bohrung_abstanzbolzen"
equation "d67 = bohrung_abstanzbolzen"
equation "d100 = bohrung_abstanzbolzen"
equation "d102 = bohrung_abstanzbolzen"
equation "d103 = bohrung_abstanzbolzen"
equation "d104 = bohrung_abstanzbolzen"
equation "bohrung_abstanzbolzen = 3.2 mm"
equation "d133 = 15.8 mm - 4 mm"
equation "d141 = 7.7 mm + 8.8 mm"
equation "d149 = 11.8 mm - 2.1 mm"
